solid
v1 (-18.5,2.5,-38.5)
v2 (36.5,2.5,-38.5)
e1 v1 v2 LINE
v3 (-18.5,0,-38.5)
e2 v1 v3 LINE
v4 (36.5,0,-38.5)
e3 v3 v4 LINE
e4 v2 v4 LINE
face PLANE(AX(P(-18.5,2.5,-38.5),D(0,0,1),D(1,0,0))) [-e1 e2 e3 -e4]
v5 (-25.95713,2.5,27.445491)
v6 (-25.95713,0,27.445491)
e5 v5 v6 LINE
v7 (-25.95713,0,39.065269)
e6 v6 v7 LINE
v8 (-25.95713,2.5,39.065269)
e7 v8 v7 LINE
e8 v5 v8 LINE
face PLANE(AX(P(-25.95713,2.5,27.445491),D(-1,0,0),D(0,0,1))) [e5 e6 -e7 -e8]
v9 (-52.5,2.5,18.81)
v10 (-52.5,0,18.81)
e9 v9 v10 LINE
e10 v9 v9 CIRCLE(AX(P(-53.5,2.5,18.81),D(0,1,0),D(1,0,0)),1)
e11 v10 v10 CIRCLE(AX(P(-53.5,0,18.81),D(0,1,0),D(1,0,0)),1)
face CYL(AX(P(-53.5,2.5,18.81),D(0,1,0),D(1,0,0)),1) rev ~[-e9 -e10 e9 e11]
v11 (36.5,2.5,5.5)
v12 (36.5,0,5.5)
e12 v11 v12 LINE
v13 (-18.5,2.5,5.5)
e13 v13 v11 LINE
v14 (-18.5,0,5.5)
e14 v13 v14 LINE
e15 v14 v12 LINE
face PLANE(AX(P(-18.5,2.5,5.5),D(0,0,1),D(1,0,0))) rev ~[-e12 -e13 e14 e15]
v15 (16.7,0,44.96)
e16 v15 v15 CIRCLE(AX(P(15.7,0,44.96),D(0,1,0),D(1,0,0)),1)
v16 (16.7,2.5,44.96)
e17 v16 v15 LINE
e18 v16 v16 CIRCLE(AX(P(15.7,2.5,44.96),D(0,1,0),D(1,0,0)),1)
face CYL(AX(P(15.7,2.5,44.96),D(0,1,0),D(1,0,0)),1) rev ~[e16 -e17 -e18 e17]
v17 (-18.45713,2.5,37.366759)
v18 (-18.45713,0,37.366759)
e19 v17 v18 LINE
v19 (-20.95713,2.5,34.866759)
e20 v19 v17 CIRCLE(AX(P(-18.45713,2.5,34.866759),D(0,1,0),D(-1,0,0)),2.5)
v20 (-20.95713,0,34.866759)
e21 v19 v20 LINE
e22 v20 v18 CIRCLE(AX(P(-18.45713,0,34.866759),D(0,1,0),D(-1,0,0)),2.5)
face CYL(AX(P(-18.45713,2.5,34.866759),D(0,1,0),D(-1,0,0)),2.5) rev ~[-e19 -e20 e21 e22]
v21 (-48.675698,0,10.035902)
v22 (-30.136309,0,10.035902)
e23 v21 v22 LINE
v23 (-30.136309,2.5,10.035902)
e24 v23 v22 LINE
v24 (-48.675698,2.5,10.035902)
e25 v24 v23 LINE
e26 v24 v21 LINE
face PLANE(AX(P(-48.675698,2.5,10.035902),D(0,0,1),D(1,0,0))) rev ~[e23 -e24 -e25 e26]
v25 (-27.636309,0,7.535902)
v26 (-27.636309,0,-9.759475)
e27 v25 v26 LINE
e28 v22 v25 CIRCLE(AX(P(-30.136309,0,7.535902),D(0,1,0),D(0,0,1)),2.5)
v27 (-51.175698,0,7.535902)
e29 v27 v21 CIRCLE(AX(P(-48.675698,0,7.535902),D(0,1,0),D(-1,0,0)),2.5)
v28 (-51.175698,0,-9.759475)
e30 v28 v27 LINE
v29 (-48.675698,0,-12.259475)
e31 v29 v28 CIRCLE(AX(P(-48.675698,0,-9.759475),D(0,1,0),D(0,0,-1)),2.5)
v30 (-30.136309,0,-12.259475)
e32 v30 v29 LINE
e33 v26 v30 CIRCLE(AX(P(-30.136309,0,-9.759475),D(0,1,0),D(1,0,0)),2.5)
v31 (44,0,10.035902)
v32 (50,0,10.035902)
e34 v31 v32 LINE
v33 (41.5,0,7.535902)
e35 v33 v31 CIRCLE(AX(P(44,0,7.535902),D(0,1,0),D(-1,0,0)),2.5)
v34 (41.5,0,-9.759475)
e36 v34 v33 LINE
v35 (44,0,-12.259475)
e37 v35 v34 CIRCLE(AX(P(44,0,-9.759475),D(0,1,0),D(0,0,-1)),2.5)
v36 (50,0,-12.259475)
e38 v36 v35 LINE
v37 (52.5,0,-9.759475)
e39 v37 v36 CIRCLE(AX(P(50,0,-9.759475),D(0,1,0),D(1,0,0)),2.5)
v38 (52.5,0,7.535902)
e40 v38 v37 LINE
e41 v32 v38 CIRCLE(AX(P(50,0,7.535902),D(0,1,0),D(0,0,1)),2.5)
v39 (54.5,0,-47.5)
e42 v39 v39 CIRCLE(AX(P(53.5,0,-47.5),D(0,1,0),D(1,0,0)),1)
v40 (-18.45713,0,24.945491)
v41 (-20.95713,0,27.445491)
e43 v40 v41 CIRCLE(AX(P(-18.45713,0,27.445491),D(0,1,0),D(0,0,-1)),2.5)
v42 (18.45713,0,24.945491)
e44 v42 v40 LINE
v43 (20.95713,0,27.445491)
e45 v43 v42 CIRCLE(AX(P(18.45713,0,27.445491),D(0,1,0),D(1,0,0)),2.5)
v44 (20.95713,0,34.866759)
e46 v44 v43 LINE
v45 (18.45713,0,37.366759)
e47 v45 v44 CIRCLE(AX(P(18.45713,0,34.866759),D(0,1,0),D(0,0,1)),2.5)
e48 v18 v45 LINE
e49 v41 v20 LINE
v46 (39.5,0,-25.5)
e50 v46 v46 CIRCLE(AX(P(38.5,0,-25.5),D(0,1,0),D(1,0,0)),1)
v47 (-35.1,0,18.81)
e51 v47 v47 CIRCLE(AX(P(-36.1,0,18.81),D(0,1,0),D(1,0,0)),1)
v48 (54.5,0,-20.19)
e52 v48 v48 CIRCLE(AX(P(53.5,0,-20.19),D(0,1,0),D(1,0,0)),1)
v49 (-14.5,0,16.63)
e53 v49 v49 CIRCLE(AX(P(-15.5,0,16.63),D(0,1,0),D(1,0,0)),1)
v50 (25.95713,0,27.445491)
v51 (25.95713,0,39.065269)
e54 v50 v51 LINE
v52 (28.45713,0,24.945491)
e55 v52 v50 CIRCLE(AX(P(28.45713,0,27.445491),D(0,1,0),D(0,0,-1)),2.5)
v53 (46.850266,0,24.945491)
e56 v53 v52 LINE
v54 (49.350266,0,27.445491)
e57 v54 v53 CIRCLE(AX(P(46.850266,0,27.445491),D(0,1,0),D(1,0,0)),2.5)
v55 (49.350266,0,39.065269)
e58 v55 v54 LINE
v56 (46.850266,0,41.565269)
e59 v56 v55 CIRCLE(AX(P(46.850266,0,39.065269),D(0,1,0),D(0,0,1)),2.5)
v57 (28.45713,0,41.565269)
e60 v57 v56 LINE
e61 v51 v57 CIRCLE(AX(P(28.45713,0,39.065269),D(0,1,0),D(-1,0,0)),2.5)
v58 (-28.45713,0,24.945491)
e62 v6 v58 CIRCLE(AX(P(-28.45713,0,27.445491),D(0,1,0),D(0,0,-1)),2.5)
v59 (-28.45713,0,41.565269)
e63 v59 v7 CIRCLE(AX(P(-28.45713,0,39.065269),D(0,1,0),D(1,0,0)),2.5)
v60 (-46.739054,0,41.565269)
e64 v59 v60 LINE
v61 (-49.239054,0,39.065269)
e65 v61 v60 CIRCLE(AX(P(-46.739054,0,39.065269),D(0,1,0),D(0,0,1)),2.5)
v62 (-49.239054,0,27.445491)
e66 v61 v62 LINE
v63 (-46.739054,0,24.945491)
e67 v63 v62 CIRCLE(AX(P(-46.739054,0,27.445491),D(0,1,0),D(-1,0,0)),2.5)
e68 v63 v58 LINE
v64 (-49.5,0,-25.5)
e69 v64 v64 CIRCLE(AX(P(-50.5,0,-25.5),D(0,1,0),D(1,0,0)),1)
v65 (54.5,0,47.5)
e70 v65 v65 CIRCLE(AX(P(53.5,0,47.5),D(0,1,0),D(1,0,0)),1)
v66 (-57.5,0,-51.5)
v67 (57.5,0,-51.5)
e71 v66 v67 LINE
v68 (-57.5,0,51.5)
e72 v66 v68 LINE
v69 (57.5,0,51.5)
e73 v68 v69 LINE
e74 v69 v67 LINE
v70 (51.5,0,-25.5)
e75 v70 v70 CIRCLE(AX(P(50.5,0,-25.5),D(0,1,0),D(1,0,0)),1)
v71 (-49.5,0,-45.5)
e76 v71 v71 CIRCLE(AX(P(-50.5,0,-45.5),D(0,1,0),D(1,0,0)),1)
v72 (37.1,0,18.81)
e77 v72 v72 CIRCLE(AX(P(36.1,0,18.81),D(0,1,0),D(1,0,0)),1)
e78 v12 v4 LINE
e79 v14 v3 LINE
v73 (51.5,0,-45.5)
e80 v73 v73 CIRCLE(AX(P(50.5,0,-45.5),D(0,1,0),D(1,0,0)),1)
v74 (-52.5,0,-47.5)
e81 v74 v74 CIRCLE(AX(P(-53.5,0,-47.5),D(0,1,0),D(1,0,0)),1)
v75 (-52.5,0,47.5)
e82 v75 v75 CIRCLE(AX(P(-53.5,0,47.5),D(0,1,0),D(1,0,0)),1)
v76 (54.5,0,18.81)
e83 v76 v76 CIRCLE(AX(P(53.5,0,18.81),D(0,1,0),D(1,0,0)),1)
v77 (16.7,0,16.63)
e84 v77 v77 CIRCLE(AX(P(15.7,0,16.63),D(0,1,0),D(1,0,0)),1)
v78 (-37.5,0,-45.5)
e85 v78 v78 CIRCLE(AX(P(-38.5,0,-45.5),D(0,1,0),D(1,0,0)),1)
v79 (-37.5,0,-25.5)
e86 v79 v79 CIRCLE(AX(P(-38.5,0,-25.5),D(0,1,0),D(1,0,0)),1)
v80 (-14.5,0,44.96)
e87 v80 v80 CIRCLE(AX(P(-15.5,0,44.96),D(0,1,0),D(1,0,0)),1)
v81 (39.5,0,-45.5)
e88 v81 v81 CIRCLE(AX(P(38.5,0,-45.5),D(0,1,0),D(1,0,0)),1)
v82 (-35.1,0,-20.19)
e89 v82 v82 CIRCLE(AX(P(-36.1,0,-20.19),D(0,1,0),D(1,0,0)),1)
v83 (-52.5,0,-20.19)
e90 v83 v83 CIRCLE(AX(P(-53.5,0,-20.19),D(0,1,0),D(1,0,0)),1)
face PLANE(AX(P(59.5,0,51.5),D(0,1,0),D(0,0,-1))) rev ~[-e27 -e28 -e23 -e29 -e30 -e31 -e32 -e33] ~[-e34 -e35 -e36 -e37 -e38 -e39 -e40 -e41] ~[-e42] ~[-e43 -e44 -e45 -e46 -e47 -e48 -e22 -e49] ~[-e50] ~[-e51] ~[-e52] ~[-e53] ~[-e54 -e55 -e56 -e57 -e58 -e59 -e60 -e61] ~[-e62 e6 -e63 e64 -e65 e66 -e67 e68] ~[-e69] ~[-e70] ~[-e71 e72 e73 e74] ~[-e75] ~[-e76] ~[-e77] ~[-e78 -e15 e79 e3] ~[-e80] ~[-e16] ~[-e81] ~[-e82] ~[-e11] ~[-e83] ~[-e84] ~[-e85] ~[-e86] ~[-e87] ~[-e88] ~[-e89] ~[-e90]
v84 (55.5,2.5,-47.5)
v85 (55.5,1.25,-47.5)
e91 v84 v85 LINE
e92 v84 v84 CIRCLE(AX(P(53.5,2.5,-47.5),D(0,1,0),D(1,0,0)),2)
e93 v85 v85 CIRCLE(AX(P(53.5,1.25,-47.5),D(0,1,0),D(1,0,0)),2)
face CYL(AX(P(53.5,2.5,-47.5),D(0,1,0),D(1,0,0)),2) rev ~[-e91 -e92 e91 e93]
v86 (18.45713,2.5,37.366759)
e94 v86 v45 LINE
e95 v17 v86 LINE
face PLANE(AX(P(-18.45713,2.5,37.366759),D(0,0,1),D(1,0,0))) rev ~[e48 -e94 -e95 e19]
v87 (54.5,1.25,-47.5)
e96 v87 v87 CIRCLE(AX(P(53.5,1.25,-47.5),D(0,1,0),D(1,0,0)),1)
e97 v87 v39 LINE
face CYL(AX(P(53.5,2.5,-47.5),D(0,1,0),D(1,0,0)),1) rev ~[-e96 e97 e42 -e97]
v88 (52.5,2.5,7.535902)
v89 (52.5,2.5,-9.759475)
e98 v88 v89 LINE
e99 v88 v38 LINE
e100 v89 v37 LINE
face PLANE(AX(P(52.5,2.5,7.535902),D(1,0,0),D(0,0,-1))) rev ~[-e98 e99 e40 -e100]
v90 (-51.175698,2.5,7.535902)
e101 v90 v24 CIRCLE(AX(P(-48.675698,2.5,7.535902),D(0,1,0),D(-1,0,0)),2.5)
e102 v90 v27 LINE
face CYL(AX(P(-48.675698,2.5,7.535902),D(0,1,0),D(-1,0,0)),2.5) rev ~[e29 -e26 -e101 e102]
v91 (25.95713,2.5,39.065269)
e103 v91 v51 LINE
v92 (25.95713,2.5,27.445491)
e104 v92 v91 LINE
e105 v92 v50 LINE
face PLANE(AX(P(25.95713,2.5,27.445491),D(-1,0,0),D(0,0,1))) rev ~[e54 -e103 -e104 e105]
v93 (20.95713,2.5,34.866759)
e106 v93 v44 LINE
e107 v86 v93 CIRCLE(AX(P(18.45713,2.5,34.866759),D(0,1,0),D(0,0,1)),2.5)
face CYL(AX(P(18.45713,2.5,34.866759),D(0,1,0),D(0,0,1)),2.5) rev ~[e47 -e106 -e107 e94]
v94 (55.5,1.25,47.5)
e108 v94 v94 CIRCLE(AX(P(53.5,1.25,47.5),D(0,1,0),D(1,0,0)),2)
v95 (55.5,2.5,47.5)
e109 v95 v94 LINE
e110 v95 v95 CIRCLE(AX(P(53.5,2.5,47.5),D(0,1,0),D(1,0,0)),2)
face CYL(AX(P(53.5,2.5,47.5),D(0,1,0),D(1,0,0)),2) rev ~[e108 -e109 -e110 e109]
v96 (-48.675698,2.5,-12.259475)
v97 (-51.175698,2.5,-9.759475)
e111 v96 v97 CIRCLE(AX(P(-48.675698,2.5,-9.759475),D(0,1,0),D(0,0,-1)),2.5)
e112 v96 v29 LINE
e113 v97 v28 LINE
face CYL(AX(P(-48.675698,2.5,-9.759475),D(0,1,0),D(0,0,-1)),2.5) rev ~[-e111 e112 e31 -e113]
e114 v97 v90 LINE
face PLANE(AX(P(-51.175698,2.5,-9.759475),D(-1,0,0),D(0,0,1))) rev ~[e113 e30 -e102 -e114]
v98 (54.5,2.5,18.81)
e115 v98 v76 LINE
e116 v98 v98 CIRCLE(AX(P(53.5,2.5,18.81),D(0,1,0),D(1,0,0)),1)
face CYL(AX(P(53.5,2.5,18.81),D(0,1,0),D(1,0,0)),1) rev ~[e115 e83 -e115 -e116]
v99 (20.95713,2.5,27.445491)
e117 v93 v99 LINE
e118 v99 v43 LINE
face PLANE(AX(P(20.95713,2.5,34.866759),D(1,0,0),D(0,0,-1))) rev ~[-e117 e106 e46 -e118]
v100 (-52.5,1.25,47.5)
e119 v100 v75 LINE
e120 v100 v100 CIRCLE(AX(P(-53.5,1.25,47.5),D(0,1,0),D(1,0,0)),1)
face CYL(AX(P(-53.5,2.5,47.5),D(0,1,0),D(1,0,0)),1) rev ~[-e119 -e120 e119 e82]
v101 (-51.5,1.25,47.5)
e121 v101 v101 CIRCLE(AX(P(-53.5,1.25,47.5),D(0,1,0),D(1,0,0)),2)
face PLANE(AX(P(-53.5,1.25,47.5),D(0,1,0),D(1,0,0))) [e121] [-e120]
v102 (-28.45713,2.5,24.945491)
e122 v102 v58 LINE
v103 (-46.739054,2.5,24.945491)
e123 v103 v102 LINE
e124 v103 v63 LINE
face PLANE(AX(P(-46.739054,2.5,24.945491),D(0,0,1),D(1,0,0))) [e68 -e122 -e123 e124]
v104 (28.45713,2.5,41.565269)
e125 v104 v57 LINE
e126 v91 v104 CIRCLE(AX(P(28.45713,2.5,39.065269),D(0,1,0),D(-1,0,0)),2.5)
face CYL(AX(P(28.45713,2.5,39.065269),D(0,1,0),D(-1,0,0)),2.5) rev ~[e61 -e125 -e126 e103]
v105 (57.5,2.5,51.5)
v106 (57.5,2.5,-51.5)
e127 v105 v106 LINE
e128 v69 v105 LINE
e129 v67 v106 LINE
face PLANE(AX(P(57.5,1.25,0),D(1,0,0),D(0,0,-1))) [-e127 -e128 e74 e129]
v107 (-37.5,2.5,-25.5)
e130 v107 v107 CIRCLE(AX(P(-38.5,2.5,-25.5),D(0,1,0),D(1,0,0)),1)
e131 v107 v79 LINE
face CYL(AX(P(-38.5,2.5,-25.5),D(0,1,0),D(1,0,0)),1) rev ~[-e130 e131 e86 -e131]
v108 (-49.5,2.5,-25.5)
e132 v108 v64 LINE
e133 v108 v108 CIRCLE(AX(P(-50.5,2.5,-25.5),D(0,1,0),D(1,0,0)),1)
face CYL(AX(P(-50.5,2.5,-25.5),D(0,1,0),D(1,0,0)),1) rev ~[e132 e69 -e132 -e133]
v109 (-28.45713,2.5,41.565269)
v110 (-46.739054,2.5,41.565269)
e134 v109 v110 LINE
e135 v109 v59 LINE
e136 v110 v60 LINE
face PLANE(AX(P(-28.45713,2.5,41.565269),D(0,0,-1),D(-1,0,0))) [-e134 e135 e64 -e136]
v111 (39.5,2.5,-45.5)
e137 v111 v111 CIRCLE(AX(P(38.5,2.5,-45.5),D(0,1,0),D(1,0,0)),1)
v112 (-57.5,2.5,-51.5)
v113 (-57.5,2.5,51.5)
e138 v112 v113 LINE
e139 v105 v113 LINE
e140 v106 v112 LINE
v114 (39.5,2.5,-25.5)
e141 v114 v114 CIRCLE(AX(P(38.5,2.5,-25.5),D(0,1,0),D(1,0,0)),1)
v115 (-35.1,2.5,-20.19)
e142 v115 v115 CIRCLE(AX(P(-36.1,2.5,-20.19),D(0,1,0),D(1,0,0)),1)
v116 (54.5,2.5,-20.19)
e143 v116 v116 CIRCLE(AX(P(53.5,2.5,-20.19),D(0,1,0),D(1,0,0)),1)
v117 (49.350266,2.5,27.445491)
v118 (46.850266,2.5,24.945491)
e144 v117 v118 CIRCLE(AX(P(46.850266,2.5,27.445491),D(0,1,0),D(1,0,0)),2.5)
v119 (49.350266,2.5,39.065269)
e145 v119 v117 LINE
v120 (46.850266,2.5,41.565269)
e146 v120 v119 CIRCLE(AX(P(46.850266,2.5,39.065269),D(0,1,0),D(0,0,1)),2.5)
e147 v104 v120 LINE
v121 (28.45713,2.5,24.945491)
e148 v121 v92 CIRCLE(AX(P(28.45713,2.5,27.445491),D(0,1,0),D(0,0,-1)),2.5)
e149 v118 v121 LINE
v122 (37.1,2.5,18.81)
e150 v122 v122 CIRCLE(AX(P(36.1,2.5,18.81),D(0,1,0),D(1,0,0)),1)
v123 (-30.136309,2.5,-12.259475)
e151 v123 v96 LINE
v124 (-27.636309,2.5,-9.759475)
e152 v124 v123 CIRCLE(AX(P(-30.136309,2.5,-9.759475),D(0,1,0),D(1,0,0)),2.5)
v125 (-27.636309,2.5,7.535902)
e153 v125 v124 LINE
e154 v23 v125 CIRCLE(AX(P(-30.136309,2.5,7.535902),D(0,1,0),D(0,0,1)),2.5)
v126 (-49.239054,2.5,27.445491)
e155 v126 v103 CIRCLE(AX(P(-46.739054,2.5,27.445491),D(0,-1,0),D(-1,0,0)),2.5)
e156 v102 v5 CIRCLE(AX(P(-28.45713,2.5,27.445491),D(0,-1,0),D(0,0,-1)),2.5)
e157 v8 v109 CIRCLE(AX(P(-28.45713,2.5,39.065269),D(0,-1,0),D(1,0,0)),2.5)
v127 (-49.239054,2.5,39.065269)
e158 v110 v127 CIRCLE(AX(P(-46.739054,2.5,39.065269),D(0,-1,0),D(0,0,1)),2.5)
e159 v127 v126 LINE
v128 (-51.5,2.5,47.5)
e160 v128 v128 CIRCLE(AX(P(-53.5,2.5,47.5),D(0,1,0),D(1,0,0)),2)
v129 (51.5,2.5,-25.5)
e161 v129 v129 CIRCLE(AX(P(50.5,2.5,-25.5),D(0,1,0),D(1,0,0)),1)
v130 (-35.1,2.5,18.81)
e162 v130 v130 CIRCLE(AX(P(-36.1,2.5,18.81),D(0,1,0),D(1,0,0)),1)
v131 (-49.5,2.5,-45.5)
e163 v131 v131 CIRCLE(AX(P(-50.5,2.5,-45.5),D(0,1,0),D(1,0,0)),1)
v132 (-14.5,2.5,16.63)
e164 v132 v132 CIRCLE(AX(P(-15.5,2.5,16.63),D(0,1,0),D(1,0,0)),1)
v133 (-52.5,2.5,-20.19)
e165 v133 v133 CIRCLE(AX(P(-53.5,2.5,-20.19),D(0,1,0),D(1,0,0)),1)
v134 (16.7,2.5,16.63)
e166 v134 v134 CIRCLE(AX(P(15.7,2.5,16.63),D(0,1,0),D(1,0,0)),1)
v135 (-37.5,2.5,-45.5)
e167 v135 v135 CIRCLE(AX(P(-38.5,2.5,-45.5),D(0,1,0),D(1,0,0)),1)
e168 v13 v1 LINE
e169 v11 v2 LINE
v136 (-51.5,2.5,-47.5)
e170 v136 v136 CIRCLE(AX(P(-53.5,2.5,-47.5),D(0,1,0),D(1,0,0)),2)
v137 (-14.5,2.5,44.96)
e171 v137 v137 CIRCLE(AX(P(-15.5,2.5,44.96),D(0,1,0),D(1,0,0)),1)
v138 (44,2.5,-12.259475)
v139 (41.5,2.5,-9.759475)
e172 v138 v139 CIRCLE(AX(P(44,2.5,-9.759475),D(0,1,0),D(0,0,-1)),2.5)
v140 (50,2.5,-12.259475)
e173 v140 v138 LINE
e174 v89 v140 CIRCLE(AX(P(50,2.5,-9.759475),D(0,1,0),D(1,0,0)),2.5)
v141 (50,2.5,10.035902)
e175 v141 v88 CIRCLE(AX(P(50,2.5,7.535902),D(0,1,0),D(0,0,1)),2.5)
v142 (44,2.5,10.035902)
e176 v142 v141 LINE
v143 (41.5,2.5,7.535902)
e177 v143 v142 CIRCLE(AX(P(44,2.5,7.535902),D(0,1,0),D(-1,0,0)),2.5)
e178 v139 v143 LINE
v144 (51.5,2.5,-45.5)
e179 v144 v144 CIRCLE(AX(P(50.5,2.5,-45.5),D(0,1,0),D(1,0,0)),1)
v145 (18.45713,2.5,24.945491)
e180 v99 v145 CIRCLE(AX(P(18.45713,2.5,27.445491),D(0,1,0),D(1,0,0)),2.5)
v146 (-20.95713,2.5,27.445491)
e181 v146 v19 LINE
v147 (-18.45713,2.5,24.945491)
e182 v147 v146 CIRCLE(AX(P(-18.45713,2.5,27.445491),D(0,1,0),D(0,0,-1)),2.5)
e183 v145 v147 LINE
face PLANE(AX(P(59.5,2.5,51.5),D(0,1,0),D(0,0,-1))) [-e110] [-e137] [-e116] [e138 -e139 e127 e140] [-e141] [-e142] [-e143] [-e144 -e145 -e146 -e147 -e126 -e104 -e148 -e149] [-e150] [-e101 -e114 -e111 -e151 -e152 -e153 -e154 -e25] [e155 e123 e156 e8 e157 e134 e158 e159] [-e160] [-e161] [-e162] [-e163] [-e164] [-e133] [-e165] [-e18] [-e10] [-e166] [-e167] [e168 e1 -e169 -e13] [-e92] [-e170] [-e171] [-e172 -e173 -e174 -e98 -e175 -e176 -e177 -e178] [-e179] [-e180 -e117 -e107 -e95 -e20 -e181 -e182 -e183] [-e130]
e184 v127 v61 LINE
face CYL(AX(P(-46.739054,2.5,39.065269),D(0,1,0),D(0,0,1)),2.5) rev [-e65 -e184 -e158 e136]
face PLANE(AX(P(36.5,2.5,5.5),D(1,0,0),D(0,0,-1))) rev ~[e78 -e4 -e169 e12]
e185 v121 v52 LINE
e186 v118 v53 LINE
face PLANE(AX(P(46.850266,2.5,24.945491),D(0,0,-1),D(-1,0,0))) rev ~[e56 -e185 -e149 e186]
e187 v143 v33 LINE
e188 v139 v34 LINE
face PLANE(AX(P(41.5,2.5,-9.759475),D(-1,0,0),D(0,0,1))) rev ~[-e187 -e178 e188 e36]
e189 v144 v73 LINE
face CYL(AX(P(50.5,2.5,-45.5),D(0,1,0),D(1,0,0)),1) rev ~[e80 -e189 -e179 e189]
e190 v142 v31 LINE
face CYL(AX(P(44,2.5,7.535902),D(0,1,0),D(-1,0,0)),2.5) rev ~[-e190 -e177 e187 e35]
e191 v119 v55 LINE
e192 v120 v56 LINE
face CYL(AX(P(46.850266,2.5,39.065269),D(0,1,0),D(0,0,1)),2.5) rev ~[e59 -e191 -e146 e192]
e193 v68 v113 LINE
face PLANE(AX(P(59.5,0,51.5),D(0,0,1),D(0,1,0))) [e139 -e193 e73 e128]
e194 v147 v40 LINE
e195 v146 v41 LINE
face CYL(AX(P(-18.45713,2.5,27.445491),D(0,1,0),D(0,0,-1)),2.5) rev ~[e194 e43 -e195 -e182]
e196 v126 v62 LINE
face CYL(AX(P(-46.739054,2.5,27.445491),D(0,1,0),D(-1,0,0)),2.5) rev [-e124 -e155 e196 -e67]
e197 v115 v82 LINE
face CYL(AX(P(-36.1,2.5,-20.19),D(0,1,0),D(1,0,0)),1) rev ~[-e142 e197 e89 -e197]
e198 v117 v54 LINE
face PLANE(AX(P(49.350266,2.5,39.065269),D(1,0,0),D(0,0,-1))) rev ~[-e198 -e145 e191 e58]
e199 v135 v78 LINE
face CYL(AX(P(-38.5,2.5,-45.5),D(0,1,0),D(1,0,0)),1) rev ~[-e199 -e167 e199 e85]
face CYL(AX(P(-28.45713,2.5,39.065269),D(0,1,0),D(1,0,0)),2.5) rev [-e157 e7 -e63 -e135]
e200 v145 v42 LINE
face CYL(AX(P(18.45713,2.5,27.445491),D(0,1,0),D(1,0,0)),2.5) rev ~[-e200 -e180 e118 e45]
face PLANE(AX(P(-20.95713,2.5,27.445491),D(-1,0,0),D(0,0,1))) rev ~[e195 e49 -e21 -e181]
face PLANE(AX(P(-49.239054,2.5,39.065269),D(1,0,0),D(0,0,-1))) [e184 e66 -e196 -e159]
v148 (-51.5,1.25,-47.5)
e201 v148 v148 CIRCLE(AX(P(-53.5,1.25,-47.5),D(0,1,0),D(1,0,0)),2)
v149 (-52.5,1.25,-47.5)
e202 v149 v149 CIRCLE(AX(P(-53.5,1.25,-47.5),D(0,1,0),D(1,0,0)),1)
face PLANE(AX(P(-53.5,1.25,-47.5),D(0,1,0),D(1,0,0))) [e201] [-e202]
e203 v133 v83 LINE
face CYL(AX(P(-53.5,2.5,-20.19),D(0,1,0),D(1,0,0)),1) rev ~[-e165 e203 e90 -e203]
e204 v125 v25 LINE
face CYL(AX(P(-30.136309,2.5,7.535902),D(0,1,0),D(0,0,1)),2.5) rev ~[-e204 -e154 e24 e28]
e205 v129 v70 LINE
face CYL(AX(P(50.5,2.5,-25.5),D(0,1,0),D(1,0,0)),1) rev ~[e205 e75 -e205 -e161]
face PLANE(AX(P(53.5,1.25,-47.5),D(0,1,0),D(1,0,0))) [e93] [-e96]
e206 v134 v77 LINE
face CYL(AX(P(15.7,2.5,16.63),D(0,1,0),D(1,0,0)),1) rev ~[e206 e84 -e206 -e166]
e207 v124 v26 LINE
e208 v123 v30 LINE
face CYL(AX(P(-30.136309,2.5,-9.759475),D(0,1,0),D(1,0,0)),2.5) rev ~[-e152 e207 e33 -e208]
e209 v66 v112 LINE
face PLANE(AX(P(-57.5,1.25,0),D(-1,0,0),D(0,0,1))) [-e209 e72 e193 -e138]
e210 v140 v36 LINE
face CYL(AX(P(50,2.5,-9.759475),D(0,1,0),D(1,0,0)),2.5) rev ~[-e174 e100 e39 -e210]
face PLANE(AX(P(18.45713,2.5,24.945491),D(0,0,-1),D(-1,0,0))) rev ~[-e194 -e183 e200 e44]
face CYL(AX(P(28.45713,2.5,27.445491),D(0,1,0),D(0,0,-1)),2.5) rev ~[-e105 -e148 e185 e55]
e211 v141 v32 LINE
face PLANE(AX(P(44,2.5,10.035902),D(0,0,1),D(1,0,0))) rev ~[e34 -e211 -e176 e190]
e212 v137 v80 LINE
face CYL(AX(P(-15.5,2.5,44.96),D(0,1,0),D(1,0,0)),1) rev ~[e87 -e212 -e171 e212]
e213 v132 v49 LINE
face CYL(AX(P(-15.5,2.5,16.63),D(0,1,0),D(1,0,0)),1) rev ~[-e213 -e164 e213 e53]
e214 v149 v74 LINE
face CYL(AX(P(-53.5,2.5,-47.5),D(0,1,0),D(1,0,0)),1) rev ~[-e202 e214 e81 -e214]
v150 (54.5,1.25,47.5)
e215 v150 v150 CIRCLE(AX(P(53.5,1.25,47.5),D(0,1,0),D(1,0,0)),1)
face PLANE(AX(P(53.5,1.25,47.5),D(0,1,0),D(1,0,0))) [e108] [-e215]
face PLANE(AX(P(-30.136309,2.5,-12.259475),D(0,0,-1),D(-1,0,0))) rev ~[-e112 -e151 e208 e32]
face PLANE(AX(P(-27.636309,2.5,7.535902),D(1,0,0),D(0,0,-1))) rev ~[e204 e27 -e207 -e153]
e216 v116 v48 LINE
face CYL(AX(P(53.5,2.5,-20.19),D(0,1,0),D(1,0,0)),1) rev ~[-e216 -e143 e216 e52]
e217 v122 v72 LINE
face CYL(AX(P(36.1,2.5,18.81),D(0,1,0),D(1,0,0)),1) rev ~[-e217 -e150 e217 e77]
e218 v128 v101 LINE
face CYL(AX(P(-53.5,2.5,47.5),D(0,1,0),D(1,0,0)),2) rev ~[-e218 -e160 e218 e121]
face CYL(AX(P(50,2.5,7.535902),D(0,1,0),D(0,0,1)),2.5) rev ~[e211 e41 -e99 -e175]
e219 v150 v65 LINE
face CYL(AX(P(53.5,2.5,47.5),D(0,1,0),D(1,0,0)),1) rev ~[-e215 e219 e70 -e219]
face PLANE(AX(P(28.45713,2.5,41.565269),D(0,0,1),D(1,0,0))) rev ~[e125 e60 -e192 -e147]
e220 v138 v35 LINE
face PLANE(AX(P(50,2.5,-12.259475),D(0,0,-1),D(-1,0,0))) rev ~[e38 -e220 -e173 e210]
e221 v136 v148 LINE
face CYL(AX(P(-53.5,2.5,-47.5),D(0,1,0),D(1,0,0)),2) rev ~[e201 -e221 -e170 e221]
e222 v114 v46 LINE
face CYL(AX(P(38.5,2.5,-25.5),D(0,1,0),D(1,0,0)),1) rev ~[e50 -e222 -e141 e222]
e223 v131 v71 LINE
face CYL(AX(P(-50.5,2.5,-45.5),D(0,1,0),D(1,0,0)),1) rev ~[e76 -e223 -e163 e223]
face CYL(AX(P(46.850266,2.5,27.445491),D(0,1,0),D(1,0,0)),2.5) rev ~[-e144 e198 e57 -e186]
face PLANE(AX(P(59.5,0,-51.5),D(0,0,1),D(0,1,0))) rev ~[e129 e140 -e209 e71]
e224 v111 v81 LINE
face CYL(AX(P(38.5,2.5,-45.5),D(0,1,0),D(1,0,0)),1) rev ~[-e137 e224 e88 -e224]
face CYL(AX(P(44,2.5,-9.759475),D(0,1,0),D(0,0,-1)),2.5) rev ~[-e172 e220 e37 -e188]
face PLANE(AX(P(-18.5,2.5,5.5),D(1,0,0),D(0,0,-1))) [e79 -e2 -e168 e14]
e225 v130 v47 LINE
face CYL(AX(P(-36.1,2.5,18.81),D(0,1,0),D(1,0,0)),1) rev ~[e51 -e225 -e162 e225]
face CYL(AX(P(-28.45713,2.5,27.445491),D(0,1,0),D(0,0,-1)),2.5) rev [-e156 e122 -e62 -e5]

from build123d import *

# Parameters (mm, degrees)
SKETCH1_W           = 119
SKETCH1_H           = 103
BOSS_EXTRUDE1_DEPTH = 2.5
SKETCH3_W           = 55
SKETCH3_H           = 44
CUT_EXTRUDE2_DEPTH  = 10
SKETCH4_W           = 103
SKETCH4_H           = 2.5
BOSS_EXTRUDE2_DEPTH = 1.5
SKETCH5_W           = 103
SKETCH5_H           = 2.5
BOSS_EXTRUDE3_DEPTH = 1.5
SKETCH6_W           = 103
SKETCH6_H           = 2.5
CUT_EXTRUDE3_DEPTH  = 3.5
SKETCH7_W           = 103
SKETCH7_H           = 2.5
CUT_EXTRUDE4_DEPTH  = 3.5
SKETCH8_R           = 1
CUT_EXTRUDE5_DEPTH  = 10
SKETCH9_R           = 1
CUT_EXTRUDE6_DEPTH  = 10
SKETCH10_R          = 2
CUT_EXTRUDE7_DEPTH  = 1.25
SKETCH11_R          = 1
CUT_EXTRUDE8_DEPTH  = 11
CUT_EXTRUDE9_DEPTH  = 11


with BuildPart() as part:
    # Sketch1 → Boss-Extrude1 (new body)
    with BuildSketch(Plane(origin=(0, 0, 0), x_dir=(1, 0, 0), z_dir=(0, 1, 0))):
        Rectangle(SKETCH1_W, SKETCH1_H)
    extrude(amount=BOSS_EXTRUDE1_DEPTH)

    # Sketch3 → Cut-Extrude2 (cut)
    with BuildSketch(Plane(origin=(0, 2.5, 0), x_dir=(1, 0, 0), z_dir=(0, 1, 0))):
        with Locations((9, 16.5)):
            Rectangle(SKETCH3_W, SKETCH3_H)
    extrude(amount=-CUT_EXTRUDE2_DEPTH, mode=Mode.SUBTRACT)

    # Sketch4 → Boss-Extrude2 (add)
    with BuildSketch(Plane.ZY.offset(59.5)):
        with Locations((0, 1.25)):
            Rectangle(SKETCH4_W, SKETCH4_H)
    extrude(amount=BOSS_EXTRUDE2_DEPTH)

    # Sketch5 → Boss-Extrude3 (add)
    with BuildSketch(Plane(origin=(59.5, 0, 0), x_dir=(0, 0, -1), z_dir=(1, 0, 0))):
        with Locations((0, 1.25)):
            Rectangle(SKETCH5_W, SKETCH5_H)
    extrude(amount=BOSS_EXTRUDE3_DEPTH)

    # Sketch6 → Cut-Extrude3 (cut)
    with BuildSketch(Plane.ZY.offset(61)):
        with Locations((0, 1.25)):
            Rectangle(SKETCH6_W, SKETCH6_H)
    extrude(amount=-CUT_EXTRUDE3_DEPTH, mode=Mode.SUBTRACT)

    # Sketch7 → Cut-Extrude4 (cut)
    with BuildSketch(Plane(origin=(61, 0, 0), x_dir=(0, 0, -1), z_dir=(1, 0, 0))):
        with Locations((0, 1.25)):
            Rectangle(SKETCH7_W, SKETCH7_H)
    extrude(amount=-CUT_EXTRUDE4_DEPTH, mode=Mode.SUBTRACT)

    # Sketch8 → Cut-Extrude5 (cut)
    with BuildSketch(Plane(origin=(0, 2.5, 0), x_dir=(1, 0, 0), z_dir=(0, 1, 0))):
        with Locations((-15.5, -44.96)):
            Circle(SKETCH8_R)
        with Locations((15.7, -44.96)):
            Circle(SKETCH8_R)
        with Locations((-15.5, -16.63)):
            Circle(SKETCH8_R)
        with Locations((15.7, -16.63)):
            Circle(SKETCH8_R)
        with Locations((-53.5, -18.81)):
            Circle(SKETCH8_R)
        with Locations((-36.1, -18.81)):
            Circle(SKETCH8_R)
        with Locations((-53.5, 20.19)):
            Circle(SKETCH8_R)
        with Locations((-36.1, 20.19)):
            Circle(SKETCH8_R)
        with Locations((36.1, -18.81)):
            Circle(SKETCH8_R)
        with Locations((53.5, -18.81)):
            Circle(SKETCH8_R)
        with Locations((53.5, 20.19)):
            Circle(SKETCH8_R)
    extrude(amount=-CUT_EXTRUDE5_DEPTH, mode=Mode.SUBTRACT)

    # Sketch9 → Cut-Extrude6 (cut)
    with BuildSketch(Plane(origin=(0, 2.5, 0), x_dir=(1, 0, 0), z_dir=(0, 1, 0))):
        with Locations((-53.5, 47.5)):
            Circle(SKETCH9_R)
        with Locations((53.5, -47.5)):
            Circle(SKETCH9_R)
        with Locations((53.5, 47.5)):
            Circle(SKETCH9_R)
        with Locations((-53.5, -47.5)):
            Circle(SKETCH9_R)
    extrude(amount=-CUT_EXTRUDE6_DEPTH, mode=Mode.SUBTRACT)

    # Sketch10 → Cut-Extrude7 (cut)
    with BuildSketch(Plane(origin=(0, 2.5, 0), x_dir=(1, 0, 0), z_dir=(0, 1, 0))):
        with Locations((-53.5, 47.5)):
            Circle(SKETCH10_R)
        with Locations((-53.5, -47.5)):
            Circle(SKETCH10_R)
        with Locations((53.5, -47.5)):
            Circle(SKETCH10_R)
        with Locations((53.5, 47.5)):
            Circle(SKETCH10_R)
    extrude(amount=-CUT_EXTRUDE7_DEPTH, mode=Mode.SUBTRACT)

    # Sketch11 → Cut-Extrude8 (cut)
    with BuildSketch(Plane(origin=(0, 2.5, 0), x_dir=(1, 0, 0), z_dir=(0, 1, 0))):
        with Locations((-50.5, 45.5)):
            Circle(SKETCH11_R)
        with Locations((-50.5, 25.5)):
            Circle(SKETCH11_R)
        with Locations((-38.5, 45.5)):
            Circle(SKETCH11_R)
        with Locations((-38.5, 25.5)):
            Circle(SKETCH11_R)
        with Locations((50.5, 25.5)):
            Circle(SKETCH11_R)
        with Locations((38.5, 25.5)):
            Circle(SKETCH11_R)
        with Locations((38.5, 45.5)):
            Circle(SKETCH11_R)
        with Locations((50.5, 45.5)):
            Circle(SKETCH11_R)
    extrude(amount=-CUT_EXTRUDE8_DEPTH, mode=Mode.SUBTRACT)

    # Sketch12 → Cut-Extrude9 (cut)
    with BuildSketch(Plane(origin=(0, 2.5, 0), x_dir=(1, 0, 0), z_dir=(0, 1, 0))):
        with BuildLine():
            Line((-46.739053949, -24.945491093), (-28.457129996, -24.945491093))
            ThreePointArc((-28.457129996, -24.945491093), (-26.689363043, -25.67772414), (-25.957129996, -27.445491093))
            Line((-25.957129996, -27.445491093), (-25.957129996, -39.065269049))
            ThreePointArc((-25.957129996, -39.065269049), (-26.689363043, -40.833036002), (-28.457129996, -41.565269049))
            Line((-28.457129996, -41.565269049), (-46.739053949, -41.565269049))
            ThreePointArc((-46.739053949, -41.565269049), (-48.506820902, -40.833036002), (-49.239053949, -39.065269049))
            Line((-49.239053949, -39.065269049), (-49.239053949, -27.445491093))
            ThreePointArc((-49.239053949, -27.445491093), (-48.506820902, -25.67772414), (-46.739053949, -24.945491093))
        make_face()
        with BuildLine():
            Line((-48.675698452, -10.035902375), (-30.13630944, -10.035902375))
            ThreePointArc((-30.13630944, -10.035902375), (-28.368542487, -9.303669328), (-27.63630944, -7.535902375))
            Line((-27.63630944, -7.535902375), (-27.63630944, 9.759475357))
            ThreePointArc((-27.63630944, 9.759475357), (-28.368542487, 11.52724231), (-30.13630944, 12.259475357))
            Line((-30.13630944, 12.259475357), (-48.675698452, 12.259475357))
            ThreePointArc((-48.675698452, 12.259475357), (-50.443465405, 11.52724231), (-51.175698452, 9.759475357))
            Line((-51.175698452, 9.759475357), (-51.175698452, -7.535902375))
            ThreePointArc((-51.175698452, -7.535902375), (-50.443465405, -9.303669328), (-48.675698452, -10.035902375))
        make_face()
        with BuildLine():
            Line((-20.957129996, -27.445491093), (-20.957129996, -34.866758765))
            ThreePointArc((-20.957129996, -34.866758765), (-20.224896949, -36.634525718), (-18.457129996, -37.366758765))
            Line((-18.457129996, -37.366758765), (18.457129996, -37.366758765))
            ThreePointArc((18.457129996, -37.366758765), (20.224896949, -36.634525718), (20.957129996, -34.866758765))
            Line((20.957129996, -34.866758765), (20.957129996, -27.445491093))
            ThreePointArc((20.957129996, -27.445491093), (20.224896949, -25.67772414), (18.457129996, -24.945491093))
            Line((18.457129996, -24.945491093), (-18.457129996, -24.945491093))
            ThreePointArc((-18.457129996, -24.945491093), (-20.224896949, -25.67772414), (-20.957129996, -27.445491093))
        make_face()
        with BuildLine():
            Line((28.457129996, -41.565269049), (46.850265705, -41.565269049))
            ThreePointArc((46.850265705, -41.565269049), (48.618032658, -40.833036002), (49.350265705, -39.065269049))
            Line((49.350265705, -39.065269049), (49.350265705, -27.445491093))
            ThreePointArc((49.350265705, -27.445491093), (48.618032658, -25.67772414), (46.850265705, -24.945491093))
            Line((46.850265705, -24.945491093), (28.457129996, -24.945491093))
            ThreePointArc((28.457129996, -24.945491093), (26.689363043, -25.67772414), (25.957129996, -27.445491093))
            Line((25.957129996, -27.445491093), (25.957129996, -39.065269049))
            ThreePointArc((25.957129996, -39.065269049), (26.689363043, -40.833036002), (28.457129996, -41.565269049))
        make_face()
        with BuildLine():
            Line((41.5, 9.759475357), (41.5, -7.535902375))
            ThreePointArc((41.5, -7.535902375), (42.232233047, -9.303669328), (44, -10.035902375))
            Line((44, -10.035902375), (50, -10.035902375))
            ThreePointArc((50, -10.035902375), (51.767766953, -9.303669328), (52.5, -7.535902375))
            Line((52.5, -7.535902375), (52.5, 9.759475357))
            ThreePointArc((52.5, 9.759475357), (51.767766953, 11.52724231), (50, 12.259475357))
            Line((50, 12.259475357), (44, 12.259475357))
            ThreePointArc((44, 12.259475357), (42.232233047, 11.52724231), (41.5, 9.759475357))
        make_face()
    extrude(amount=-CUT_EXTRUDE9_DEPTH, mode=Mode.SUBTRACT)


solid = part.part
